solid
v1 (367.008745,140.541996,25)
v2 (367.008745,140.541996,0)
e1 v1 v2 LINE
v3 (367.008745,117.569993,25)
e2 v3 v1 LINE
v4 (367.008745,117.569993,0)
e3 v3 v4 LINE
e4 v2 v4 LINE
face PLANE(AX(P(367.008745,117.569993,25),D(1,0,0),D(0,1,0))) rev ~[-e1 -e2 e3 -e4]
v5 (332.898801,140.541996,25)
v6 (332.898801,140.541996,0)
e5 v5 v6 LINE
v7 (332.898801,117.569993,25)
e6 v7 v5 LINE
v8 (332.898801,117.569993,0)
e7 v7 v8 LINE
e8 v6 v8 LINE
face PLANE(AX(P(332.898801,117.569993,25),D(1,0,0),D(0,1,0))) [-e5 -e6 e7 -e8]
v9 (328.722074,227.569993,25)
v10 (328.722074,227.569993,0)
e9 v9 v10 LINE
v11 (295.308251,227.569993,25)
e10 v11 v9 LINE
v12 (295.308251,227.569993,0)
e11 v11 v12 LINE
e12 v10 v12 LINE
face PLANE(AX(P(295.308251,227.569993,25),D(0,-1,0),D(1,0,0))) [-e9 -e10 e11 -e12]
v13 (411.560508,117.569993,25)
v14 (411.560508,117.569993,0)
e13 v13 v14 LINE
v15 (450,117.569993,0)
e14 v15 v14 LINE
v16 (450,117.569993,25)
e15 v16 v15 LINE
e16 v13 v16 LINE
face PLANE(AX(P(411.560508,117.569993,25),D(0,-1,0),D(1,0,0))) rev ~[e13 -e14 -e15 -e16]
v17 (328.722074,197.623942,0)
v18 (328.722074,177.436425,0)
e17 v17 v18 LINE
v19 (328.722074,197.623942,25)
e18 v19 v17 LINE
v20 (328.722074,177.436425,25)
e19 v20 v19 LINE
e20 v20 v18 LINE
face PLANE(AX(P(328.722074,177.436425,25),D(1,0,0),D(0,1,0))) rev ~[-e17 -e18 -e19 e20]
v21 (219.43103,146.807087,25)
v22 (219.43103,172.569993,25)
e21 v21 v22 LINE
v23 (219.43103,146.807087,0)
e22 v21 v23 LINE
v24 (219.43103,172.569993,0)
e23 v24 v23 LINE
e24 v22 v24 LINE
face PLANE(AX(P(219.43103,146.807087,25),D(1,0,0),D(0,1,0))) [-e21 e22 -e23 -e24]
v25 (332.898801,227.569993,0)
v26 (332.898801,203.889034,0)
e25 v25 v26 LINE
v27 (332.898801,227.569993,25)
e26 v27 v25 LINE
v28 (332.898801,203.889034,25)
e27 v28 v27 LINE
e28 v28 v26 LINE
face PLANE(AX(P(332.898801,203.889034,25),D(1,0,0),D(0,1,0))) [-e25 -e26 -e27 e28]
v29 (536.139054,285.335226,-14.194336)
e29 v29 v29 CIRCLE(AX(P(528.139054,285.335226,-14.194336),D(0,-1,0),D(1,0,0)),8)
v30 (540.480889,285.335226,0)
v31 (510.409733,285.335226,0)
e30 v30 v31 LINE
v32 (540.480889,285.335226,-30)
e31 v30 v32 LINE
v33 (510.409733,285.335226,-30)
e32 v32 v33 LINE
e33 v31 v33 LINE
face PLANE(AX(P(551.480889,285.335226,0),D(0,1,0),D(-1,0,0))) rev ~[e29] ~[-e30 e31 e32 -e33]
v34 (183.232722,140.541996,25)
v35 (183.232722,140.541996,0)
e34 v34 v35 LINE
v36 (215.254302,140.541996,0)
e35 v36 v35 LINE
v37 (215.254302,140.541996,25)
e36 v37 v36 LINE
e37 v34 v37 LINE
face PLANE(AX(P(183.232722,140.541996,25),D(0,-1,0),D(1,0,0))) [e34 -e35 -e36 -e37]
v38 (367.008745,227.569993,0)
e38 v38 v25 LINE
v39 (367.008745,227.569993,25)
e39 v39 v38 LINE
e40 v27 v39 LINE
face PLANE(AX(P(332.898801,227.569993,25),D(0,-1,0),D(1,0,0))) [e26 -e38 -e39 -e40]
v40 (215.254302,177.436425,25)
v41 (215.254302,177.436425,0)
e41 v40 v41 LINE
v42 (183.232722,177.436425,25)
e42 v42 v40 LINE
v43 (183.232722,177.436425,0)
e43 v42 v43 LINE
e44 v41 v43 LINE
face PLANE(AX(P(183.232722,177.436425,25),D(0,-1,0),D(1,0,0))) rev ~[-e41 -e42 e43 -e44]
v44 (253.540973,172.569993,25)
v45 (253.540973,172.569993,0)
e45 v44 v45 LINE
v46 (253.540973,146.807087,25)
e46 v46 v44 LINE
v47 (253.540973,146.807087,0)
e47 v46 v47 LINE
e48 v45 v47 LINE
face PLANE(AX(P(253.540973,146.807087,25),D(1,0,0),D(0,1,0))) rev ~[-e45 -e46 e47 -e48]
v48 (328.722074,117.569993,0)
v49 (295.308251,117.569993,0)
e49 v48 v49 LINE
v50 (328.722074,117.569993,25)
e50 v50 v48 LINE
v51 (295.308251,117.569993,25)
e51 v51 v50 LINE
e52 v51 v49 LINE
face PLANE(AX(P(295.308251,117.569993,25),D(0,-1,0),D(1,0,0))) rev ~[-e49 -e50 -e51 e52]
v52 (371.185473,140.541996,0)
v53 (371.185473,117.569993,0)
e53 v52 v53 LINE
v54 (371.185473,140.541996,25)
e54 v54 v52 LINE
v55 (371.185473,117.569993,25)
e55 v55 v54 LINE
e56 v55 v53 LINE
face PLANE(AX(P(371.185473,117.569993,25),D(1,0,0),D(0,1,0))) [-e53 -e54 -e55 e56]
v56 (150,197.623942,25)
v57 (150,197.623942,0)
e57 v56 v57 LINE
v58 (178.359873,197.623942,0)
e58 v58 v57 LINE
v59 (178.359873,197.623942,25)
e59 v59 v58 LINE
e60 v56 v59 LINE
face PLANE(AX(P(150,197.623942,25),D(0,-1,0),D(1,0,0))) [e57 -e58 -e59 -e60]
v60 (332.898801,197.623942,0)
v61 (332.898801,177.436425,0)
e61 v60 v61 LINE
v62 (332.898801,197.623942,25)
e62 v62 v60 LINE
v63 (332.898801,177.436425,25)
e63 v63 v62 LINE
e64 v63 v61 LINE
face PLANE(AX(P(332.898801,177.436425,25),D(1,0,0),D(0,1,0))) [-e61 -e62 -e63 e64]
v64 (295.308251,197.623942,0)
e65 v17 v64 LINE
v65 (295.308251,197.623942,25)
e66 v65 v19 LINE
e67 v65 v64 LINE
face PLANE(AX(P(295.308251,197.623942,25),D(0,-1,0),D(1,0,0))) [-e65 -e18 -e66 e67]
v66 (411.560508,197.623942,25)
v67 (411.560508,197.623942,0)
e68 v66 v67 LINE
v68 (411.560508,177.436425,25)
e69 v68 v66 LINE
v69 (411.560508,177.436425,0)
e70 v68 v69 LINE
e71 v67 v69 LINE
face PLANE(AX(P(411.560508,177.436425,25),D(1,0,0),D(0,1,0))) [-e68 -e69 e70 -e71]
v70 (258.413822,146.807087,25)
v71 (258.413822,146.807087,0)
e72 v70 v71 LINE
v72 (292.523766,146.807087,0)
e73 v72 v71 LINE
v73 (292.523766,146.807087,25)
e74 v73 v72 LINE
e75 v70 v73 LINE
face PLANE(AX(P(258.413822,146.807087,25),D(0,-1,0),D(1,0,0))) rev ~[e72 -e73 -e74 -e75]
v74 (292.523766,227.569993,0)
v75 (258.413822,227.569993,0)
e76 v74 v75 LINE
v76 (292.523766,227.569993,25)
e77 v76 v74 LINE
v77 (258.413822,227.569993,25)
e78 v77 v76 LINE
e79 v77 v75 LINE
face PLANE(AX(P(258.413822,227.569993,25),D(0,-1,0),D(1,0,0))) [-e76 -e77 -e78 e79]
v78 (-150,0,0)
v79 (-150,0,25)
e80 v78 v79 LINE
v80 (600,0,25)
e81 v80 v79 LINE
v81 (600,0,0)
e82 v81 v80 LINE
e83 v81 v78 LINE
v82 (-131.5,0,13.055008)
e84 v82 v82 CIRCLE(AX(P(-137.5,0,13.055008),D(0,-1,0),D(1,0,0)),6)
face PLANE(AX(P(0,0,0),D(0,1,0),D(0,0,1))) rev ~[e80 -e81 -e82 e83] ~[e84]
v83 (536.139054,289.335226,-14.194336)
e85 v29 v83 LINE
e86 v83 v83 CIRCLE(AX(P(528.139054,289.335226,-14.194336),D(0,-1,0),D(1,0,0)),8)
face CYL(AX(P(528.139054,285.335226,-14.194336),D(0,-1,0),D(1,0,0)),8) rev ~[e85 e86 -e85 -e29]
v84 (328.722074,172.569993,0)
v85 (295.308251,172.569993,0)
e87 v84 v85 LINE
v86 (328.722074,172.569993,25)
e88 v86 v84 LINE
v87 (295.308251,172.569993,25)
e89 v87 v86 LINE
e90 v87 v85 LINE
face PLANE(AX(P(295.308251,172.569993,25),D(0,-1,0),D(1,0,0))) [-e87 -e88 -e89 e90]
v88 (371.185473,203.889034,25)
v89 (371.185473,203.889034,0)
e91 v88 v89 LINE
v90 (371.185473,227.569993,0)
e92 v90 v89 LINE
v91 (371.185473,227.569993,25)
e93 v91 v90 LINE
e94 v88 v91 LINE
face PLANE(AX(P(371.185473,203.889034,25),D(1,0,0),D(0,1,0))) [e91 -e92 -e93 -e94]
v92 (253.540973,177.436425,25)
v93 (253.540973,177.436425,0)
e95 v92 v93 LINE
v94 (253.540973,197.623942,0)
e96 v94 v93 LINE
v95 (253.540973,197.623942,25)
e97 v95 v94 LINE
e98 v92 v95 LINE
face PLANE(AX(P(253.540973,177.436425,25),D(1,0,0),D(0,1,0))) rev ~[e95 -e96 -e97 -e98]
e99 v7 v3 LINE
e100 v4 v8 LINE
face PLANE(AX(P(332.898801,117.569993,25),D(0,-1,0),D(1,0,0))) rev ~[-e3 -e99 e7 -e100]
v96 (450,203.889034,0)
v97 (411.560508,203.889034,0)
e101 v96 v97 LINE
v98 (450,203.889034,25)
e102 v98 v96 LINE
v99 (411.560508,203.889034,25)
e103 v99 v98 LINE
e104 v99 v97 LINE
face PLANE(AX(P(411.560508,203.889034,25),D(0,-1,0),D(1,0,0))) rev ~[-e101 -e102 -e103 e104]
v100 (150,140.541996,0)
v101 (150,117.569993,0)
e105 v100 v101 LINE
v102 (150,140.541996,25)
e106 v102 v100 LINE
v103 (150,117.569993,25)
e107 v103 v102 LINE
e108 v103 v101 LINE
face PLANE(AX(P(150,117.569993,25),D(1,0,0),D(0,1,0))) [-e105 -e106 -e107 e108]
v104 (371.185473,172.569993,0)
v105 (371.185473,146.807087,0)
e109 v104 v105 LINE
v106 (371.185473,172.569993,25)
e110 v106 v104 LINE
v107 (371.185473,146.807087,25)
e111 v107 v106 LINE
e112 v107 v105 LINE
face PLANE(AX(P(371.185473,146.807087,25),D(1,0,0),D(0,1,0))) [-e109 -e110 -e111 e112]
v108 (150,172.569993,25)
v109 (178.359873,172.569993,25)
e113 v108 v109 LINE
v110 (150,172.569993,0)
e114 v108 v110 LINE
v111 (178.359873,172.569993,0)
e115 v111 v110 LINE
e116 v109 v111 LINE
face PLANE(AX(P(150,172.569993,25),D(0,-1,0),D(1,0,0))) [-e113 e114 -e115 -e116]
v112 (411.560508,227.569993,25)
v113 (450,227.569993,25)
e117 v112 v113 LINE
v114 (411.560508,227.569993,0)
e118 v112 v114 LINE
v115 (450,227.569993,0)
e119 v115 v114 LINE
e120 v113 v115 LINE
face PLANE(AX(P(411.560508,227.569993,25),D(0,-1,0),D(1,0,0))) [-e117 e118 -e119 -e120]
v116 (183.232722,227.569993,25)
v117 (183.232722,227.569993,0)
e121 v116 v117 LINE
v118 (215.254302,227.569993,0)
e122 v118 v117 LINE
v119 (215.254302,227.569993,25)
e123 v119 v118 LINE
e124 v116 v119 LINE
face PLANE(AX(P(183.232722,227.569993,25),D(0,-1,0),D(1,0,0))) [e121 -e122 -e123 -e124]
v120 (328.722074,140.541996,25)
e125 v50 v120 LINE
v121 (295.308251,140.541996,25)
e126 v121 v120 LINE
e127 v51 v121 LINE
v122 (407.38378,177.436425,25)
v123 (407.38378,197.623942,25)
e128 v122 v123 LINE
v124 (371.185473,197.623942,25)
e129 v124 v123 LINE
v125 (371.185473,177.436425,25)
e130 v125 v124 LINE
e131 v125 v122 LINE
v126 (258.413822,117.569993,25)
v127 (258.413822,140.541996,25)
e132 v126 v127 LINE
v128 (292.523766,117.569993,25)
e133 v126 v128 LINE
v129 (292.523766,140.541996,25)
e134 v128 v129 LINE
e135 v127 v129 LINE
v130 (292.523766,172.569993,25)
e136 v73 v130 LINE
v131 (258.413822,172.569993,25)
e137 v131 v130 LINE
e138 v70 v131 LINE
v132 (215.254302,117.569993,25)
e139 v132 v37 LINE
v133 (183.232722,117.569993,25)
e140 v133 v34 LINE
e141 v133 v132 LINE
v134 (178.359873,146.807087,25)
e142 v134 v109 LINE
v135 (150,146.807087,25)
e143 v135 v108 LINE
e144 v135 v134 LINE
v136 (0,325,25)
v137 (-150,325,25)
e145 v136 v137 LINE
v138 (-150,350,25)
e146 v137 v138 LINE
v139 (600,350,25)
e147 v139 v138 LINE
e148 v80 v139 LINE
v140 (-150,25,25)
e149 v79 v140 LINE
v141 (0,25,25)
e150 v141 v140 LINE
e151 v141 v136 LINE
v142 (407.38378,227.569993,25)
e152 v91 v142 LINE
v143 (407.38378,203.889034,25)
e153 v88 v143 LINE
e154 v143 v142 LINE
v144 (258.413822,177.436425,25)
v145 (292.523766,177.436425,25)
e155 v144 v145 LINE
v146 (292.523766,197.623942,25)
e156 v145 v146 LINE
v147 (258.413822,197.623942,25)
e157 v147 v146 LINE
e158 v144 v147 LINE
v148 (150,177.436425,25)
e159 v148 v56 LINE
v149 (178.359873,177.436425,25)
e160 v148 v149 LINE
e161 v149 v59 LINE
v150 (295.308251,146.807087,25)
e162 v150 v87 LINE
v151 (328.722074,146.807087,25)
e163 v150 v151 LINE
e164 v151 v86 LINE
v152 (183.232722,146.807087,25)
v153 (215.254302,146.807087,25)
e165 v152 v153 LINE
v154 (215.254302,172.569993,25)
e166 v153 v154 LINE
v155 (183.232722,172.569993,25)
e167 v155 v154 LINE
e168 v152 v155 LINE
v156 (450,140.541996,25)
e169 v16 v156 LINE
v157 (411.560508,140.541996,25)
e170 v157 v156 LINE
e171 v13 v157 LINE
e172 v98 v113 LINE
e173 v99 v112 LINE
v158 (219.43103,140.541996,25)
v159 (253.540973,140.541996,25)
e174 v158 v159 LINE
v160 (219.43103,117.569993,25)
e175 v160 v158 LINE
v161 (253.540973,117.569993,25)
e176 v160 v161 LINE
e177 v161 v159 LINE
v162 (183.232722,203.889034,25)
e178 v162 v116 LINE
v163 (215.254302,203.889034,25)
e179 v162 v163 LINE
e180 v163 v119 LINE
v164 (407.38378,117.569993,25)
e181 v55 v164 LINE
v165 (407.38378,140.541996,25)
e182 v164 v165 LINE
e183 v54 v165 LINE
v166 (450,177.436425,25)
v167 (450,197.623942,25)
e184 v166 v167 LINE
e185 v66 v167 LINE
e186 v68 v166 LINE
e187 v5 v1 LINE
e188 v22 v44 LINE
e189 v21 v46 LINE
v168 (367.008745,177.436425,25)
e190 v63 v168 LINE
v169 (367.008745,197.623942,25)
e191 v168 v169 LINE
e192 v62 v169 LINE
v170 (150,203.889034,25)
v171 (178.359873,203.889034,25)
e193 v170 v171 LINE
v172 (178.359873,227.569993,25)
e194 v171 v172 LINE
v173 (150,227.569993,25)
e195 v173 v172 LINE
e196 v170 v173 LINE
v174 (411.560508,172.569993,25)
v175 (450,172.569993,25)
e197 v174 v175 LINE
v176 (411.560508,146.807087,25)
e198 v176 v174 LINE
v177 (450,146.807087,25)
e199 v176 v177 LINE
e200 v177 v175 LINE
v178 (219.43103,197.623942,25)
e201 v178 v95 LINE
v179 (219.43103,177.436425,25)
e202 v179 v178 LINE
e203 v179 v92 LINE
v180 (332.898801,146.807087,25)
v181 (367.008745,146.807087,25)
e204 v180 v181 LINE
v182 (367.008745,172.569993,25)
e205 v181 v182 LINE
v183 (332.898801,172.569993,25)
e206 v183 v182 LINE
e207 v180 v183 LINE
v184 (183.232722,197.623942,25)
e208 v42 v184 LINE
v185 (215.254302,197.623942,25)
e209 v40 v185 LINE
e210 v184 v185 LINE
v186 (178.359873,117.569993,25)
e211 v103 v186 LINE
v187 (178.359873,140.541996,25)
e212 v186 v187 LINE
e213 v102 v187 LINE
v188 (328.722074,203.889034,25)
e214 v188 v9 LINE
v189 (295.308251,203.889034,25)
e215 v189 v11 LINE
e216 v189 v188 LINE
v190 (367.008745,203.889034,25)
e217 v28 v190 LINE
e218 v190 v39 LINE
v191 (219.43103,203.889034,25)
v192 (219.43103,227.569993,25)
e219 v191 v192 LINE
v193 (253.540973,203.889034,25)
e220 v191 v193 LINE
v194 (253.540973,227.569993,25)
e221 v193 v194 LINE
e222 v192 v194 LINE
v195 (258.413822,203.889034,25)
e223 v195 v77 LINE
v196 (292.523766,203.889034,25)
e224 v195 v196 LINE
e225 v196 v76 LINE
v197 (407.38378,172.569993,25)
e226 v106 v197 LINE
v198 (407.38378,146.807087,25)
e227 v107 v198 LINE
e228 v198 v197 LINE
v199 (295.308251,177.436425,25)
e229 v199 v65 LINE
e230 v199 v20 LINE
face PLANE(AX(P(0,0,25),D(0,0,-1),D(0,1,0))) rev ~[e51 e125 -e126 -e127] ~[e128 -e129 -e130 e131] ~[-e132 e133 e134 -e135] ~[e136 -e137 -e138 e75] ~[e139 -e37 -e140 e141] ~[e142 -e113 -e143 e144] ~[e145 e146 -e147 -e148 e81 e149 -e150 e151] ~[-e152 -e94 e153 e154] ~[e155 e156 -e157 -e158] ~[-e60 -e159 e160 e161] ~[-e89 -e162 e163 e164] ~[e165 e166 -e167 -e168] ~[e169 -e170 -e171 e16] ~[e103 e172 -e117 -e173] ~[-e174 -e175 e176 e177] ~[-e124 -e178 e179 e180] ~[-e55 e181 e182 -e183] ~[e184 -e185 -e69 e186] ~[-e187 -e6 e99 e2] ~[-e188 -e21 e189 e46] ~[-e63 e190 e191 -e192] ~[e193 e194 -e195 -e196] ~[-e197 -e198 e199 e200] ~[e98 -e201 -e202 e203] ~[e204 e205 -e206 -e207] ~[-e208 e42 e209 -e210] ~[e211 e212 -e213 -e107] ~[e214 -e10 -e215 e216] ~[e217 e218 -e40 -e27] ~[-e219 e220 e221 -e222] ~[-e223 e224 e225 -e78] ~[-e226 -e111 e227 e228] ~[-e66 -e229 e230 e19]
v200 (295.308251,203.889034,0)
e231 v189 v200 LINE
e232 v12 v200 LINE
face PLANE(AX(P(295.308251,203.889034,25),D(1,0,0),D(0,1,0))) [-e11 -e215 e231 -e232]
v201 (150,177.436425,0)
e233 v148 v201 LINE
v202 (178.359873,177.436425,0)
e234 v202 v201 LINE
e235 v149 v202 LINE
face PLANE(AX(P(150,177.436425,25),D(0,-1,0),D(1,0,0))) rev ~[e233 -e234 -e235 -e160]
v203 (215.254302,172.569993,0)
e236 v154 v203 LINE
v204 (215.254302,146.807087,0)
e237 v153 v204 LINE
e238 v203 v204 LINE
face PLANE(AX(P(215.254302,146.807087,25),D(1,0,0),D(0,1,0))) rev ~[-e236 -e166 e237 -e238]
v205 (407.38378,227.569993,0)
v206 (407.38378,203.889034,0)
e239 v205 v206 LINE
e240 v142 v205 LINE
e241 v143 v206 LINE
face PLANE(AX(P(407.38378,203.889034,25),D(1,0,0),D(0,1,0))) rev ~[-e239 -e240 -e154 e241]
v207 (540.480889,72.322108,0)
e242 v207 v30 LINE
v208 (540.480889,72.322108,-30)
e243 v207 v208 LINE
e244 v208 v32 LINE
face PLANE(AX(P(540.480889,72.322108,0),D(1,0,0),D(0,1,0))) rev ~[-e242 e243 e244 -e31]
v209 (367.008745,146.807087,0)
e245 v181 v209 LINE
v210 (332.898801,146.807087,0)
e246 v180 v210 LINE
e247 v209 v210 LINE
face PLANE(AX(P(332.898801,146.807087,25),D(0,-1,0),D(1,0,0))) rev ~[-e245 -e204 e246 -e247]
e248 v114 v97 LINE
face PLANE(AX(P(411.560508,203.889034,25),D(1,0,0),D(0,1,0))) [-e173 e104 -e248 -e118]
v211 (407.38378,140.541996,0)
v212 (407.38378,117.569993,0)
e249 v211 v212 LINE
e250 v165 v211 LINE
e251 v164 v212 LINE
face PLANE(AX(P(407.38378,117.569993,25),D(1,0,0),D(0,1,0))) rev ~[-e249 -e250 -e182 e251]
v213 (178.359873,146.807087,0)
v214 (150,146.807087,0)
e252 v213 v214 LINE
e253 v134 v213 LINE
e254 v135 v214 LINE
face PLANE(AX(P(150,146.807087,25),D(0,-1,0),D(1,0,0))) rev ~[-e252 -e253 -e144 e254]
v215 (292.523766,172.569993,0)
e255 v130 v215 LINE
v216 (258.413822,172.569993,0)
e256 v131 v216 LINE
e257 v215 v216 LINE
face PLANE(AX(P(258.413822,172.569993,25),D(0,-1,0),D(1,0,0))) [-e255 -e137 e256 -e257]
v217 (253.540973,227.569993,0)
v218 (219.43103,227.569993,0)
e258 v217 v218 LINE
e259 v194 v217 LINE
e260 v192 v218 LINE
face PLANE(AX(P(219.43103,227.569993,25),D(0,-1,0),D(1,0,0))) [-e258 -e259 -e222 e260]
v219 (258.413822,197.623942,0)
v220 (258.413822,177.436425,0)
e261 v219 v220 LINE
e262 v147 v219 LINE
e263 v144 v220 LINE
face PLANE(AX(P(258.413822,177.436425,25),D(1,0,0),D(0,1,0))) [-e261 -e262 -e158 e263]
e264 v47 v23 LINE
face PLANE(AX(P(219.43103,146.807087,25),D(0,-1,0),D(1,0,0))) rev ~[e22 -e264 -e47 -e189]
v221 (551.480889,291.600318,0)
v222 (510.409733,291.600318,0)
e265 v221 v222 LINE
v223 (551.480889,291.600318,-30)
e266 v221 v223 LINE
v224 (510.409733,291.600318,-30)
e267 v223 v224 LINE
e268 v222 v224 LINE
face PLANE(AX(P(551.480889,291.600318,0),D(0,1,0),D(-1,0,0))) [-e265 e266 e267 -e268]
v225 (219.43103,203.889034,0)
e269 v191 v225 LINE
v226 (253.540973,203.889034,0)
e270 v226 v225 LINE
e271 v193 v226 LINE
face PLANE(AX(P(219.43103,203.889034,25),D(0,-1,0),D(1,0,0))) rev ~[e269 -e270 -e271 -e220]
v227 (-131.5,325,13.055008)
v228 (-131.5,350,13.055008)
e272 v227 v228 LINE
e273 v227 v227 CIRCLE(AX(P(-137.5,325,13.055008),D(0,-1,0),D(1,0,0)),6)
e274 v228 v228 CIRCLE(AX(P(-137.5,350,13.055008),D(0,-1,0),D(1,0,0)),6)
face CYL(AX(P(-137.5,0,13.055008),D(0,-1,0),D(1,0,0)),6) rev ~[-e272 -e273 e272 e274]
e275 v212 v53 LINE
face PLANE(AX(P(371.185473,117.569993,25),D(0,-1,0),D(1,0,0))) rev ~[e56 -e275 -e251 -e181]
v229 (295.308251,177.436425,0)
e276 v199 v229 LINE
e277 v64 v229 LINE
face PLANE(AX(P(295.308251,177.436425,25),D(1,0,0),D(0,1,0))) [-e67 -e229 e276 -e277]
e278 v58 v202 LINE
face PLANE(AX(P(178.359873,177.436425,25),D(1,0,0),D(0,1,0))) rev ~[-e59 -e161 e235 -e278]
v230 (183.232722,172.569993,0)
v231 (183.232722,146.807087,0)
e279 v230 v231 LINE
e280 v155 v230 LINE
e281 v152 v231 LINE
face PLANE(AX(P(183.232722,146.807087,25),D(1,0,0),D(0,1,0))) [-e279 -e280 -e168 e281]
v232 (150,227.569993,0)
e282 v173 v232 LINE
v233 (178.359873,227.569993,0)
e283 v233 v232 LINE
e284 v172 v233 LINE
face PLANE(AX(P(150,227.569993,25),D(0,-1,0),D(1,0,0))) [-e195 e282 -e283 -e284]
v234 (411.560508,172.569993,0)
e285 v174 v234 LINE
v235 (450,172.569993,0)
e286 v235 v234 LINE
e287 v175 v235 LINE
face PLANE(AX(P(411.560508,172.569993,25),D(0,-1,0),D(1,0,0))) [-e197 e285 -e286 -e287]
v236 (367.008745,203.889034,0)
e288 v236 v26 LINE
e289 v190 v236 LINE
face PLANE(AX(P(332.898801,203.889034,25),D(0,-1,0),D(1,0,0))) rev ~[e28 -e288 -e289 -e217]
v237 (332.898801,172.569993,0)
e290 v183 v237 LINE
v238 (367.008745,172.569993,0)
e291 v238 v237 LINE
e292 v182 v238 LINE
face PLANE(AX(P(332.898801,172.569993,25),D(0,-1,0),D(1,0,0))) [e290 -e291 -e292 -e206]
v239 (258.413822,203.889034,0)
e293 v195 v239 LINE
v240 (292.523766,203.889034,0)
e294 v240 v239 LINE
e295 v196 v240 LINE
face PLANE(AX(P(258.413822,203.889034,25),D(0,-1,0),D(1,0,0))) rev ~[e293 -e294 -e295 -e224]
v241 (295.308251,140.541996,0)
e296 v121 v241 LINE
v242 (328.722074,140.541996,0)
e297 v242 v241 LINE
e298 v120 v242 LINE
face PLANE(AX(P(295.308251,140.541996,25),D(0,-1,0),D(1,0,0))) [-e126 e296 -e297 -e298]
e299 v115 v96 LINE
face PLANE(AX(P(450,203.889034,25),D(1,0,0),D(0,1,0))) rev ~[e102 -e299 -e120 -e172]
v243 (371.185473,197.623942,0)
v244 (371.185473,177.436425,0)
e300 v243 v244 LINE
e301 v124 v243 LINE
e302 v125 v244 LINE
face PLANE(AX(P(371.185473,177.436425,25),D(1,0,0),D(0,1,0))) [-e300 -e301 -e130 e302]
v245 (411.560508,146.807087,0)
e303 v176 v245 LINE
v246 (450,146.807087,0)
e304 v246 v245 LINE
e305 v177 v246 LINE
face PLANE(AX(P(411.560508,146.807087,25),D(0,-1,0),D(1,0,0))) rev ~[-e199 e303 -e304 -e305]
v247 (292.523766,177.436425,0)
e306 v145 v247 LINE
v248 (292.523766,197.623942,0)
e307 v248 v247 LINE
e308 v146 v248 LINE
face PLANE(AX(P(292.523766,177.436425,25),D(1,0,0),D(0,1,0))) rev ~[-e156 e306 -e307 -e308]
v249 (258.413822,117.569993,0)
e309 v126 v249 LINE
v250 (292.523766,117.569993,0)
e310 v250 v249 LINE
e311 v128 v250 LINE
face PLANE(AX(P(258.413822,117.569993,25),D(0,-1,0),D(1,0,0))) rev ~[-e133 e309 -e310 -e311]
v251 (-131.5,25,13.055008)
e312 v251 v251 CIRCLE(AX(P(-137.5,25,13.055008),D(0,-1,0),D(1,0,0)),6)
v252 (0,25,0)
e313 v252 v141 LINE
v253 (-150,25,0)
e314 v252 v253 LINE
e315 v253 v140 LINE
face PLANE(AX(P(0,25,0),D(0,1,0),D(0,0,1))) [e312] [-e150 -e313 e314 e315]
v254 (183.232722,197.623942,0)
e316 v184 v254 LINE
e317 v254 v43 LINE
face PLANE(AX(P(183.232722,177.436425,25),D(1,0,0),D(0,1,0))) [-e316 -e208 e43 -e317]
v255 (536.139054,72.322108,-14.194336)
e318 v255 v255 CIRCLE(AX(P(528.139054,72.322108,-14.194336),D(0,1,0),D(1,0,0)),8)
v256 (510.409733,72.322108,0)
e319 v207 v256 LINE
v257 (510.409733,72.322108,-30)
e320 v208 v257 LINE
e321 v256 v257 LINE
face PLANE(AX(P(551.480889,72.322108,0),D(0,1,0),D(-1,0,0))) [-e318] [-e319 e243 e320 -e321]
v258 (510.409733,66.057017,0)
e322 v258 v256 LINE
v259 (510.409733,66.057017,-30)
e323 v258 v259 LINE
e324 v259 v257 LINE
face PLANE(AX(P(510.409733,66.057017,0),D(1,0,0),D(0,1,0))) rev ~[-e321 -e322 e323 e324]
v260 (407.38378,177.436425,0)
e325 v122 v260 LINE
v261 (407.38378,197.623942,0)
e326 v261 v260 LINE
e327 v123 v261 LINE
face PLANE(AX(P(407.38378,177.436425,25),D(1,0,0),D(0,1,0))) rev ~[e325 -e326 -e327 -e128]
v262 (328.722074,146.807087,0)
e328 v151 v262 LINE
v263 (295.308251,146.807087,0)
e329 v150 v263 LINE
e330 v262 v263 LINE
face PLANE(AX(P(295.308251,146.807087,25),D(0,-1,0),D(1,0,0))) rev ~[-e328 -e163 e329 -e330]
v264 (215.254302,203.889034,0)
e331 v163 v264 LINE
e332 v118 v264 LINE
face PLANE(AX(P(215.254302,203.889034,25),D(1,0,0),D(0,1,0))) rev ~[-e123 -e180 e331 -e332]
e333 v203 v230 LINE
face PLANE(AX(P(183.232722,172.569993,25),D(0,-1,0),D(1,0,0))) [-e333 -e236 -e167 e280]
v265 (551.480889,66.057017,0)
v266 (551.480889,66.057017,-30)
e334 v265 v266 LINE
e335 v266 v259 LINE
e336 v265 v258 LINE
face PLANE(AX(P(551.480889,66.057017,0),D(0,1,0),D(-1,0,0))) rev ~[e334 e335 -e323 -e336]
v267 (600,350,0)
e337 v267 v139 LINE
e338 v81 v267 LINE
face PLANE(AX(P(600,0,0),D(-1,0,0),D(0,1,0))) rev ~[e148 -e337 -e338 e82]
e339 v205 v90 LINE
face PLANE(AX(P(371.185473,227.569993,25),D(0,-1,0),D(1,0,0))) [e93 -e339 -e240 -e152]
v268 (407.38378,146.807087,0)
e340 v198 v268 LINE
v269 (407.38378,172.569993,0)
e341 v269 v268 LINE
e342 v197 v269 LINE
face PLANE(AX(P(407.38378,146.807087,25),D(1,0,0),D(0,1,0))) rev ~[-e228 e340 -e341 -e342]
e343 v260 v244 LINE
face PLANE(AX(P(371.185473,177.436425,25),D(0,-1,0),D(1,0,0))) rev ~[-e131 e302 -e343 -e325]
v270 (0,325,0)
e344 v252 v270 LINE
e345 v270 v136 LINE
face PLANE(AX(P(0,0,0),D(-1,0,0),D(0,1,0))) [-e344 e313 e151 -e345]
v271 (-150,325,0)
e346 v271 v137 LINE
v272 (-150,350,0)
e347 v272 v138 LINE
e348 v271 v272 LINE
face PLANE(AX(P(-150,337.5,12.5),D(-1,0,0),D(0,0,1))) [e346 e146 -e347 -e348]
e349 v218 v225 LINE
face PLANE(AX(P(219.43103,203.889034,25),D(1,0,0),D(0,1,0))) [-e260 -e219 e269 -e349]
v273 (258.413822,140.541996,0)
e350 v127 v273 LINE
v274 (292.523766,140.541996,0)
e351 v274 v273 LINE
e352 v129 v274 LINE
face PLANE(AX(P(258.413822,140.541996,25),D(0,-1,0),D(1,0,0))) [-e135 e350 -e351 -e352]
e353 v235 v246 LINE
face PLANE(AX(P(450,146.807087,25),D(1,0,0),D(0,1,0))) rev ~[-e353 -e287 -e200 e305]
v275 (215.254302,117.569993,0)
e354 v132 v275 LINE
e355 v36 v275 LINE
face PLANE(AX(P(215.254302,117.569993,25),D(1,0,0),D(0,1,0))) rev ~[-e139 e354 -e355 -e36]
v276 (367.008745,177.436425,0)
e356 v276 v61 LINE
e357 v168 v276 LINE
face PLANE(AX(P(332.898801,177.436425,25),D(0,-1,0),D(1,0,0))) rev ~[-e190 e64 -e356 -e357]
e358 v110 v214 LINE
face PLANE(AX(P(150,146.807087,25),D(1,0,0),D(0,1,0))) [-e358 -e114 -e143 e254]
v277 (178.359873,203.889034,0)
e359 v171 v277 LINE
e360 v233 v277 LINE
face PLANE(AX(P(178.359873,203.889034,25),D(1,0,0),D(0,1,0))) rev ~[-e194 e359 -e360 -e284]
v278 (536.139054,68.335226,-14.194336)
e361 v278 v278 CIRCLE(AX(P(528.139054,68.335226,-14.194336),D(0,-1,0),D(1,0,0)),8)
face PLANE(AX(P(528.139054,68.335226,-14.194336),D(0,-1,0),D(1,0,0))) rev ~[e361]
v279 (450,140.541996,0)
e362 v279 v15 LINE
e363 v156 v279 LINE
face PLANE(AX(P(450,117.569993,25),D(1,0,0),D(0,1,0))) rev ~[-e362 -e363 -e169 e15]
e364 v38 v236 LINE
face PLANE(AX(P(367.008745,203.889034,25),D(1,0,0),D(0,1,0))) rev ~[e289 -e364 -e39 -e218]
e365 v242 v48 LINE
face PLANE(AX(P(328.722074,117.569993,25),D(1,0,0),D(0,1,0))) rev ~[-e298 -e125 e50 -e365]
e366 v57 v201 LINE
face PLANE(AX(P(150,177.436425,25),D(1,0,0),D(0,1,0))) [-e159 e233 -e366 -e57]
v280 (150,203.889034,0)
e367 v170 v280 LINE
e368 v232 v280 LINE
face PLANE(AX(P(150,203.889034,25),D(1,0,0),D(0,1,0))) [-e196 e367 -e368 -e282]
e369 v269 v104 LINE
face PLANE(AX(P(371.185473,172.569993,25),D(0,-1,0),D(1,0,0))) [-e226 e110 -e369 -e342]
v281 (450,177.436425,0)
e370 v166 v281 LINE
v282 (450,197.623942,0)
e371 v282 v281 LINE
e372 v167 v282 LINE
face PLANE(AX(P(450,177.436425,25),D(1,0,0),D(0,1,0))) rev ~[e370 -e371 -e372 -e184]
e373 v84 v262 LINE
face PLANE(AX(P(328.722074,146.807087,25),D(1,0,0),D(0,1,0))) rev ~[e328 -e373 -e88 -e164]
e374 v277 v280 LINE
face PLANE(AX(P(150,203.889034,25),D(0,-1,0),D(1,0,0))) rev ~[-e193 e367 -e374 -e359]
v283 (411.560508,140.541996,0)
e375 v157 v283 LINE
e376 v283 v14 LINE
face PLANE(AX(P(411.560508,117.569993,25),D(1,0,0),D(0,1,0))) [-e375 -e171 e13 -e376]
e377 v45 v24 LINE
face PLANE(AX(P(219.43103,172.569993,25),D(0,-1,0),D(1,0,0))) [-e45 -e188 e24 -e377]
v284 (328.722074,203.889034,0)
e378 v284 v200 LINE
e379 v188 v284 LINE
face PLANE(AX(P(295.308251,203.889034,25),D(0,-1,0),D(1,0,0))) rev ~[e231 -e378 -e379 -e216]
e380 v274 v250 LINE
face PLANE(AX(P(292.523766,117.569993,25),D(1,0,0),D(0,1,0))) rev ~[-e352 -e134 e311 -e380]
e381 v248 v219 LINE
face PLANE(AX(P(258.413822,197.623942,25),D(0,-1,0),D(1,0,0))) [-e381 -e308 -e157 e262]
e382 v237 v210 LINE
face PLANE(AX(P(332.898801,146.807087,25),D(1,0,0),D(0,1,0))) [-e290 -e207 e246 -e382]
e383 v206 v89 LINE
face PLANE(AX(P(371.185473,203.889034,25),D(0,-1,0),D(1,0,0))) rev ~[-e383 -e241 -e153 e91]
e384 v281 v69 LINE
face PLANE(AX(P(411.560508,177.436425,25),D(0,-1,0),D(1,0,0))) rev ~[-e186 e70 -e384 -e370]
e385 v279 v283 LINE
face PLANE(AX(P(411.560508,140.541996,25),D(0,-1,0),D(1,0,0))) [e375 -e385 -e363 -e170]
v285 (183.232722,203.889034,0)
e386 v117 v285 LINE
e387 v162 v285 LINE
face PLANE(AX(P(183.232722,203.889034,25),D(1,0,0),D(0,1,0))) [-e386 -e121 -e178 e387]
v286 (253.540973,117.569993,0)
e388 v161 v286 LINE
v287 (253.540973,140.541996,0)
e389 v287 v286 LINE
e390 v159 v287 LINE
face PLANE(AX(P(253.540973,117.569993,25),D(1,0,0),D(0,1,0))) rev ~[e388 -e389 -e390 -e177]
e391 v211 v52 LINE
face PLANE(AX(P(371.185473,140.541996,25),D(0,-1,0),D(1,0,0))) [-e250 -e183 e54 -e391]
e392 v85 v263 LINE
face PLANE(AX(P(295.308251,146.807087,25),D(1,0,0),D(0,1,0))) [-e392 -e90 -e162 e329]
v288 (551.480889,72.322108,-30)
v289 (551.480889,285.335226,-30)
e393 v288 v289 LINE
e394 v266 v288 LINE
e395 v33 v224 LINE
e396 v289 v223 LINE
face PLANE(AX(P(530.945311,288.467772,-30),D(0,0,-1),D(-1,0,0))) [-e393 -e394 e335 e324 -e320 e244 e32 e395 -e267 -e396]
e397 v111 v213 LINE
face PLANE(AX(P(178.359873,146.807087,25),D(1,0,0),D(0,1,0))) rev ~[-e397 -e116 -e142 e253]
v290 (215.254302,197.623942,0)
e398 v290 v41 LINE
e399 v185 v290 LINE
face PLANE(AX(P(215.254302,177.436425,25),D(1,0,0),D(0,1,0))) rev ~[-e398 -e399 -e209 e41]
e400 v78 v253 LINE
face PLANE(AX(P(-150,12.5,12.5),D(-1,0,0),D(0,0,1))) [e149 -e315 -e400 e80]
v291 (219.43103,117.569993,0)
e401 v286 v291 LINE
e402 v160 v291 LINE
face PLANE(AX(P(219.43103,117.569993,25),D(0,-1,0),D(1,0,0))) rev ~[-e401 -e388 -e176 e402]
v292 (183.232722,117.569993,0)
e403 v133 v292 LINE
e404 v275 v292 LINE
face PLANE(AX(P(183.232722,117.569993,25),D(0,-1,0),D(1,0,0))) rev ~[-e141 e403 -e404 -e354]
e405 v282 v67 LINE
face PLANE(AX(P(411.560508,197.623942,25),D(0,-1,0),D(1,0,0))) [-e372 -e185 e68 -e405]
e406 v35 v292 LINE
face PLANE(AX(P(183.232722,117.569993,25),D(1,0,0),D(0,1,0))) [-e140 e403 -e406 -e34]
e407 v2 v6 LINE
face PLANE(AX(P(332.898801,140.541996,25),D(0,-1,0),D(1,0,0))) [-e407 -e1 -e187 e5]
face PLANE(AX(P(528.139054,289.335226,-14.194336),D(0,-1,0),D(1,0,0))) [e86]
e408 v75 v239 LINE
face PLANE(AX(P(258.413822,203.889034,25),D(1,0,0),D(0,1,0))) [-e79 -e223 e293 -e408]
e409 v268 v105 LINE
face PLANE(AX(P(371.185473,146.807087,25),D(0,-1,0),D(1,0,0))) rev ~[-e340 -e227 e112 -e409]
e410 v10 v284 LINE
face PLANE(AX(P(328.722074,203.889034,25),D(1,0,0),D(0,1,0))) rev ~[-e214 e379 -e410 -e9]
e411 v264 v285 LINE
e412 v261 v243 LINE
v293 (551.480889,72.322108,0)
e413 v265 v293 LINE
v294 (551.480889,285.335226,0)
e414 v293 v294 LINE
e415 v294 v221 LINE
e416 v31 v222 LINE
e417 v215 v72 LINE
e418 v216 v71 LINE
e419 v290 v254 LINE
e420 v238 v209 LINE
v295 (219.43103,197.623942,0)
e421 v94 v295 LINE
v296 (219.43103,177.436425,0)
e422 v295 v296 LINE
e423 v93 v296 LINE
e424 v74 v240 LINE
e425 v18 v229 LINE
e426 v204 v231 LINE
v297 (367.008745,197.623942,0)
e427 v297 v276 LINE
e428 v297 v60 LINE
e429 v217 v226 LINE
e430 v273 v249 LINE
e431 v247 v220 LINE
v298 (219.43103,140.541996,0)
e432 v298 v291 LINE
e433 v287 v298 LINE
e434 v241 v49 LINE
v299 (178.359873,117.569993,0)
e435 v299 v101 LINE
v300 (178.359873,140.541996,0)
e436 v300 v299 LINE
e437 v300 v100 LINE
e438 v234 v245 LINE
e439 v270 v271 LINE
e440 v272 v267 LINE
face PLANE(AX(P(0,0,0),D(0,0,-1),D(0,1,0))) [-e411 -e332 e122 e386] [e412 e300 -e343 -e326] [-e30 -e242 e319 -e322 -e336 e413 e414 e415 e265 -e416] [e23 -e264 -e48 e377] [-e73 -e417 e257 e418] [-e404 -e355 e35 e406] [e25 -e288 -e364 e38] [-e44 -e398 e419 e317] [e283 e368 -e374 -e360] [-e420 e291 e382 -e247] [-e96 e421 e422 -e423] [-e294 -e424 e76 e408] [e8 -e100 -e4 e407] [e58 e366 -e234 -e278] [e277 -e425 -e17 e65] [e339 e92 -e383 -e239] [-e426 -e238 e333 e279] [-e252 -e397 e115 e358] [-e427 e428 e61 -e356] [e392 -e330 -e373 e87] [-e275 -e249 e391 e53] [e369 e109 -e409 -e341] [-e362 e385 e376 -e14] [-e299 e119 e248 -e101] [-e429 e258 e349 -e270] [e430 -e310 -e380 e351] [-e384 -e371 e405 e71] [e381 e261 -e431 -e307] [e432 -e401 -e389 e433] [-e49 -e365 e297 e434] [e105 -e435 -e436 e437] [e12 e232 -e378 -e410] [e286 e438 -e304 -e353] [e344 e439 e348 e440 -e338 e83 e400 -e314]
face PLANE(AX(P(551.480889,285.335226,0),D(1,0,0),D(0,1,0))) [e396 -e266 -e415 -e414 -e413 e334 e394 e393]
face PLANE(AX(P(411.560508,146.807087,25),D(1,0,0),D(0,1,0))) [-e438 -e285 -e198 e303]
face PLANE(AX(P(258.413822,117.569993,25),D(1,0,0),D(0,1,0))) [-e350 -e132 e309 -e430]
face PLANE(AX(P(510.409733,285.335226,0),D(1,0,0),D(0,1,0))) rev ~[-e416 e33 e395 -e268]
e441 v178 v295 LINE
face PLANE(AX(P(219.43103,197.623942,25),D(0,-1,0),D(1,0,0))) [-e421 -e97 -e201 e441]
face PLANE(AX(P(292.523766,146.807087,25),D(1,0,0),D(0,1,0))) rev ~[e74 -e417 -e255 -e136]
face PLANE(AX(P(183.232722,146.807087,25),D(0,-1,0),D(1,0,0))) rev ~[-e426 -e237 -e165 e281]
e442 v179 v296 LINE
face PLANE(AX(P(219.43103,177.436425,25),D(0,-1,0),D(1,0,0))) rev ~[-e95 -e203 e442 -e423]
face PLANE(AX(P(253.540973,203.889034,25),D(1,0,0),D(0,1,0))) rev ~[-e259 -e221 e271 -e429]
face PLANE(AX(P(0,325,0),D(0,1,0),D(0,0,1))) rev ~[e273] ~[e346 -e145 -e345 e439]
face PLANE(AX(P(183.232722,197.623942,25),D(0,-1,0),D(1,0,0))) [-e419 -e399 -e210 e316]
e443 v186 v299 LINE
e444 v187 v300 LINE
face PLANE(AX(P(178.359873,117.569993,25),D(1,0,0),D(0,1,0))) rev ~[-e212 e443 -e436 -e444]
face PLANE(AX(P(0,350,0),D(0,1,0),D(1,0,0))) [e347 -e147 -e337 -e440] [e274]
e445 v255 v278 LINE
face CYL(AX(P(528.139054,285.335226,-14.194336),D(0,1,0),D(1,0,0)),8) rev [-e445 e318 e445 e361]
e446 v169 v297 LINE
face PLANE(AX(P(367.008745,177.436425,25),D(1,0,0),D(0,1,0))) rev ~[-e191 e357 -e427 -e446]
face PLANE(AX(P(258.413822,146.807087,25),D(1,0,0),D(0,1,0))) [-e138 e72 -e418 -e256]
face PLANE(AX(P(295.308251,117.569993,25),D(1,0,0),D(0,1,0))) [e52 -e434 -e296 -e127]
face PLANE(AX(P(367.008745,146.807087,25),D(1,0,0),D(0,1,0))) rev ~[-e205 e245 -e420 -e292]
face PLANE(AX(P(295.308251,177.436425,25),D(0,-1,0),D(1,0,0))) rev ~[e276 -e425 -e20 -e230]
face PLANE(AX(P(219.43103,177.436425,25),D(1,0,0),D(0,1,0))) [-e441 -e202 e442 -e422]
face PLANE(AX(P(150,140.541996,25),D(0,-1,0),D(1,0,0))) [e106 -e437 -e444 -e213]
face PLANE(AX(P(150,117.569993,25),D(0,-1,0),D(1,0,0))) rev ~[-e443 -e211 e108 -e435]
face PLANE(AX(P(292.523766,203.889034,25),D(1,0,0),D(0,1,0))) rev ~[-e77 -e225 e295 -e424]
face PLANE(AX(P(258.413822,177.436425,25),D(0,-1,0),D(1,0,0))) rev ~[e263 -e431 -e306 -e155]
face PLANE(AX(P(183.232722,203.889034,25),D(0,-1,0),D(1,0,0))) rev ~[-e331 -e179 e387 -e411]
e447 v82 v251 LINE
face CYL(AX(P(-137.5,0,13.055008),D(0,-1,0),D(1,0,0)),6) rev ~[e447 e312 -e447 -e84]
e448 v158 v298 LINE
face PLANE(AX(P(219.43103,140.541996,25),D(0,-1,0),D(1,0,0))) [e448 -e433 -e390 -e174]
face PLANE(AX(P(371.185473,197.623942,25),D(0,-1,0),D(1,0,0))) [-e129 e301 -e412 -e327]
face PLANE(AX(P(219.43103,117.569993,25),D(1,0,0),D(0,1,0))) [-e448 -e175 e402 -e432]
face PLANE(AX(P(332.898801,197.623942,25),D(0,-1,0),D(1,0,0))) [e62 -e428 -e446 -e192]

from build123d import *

# Parameters (mm, degrees)
SKETCH1_W               = 600
SKETCH1_H               = 350
BOSS_EXTRUDE1_DEPTH     = 25
SKETCH3_W               = 25
SKETCH3_H               = 25
BOSS_EXTRUDE2_DEPTH     = 150
SKETCH4_R               = 6
CUT_EXTRUDE1_DEPTH      = 370
SKETCH5_W               = 28.359872958
SKETCH5_H               = 23.680958907
SKETCH5_W_2             = 32.02157976
SKETCH5_W_3             = 34.109943658
SKETCH5_W_4             = 34.109943657
SKETCH5_W_5             = 33.413822358
SKETCH5_W_6             = 36.198307555
SKETCH5_W_7             = 38.439491831
SKETCH5_H_2             = 20.187517675
SKETCH5_H_3             = 25.762905436
SKETCH5_H_4             = 22.972002872
CUT_EXTRUDE3_DEPTH      = 30
SKETCH7_W               = 11
SKETCH7_H               = 213.013117536
BOSS_EXTRUDE4_DEPTH     = 30
SKETCH8_W               = 41.071156649
SKETCH8_H               = 6.265091692
BOSS_EXTRUDE5_DEPTH     = 30
SKETCH11_R              = 8
CUT_EXTRUDE6_DEPTH      = 217
CUT_EXTRUDE6_DEPTH_BACK = 4


with BuildPart() as part:
    # Sketch1 → Boss-Extrude1 (new body)
    with BuildSketch(Plane.XY):
        with Locations((300, 175)):
            Rectangle(SKETCH1_W, SKETCH1_H)
    extrude(amount=BOSS_EXTRUDE1_DEPTH)

    # Sketch3 → Boss-Extrude2 (add)
    with BuildSketch(Plane.ZY):
        with Locations((12.5, 12.5)):
            Rectangle(SKETCH3_W, SKETCH3_H)
        with Locations((12.5, 337.5)):
            Rectangle(SKETCH3_W, SKETCH3_H)
    extrude(amount=BOSS_EXTRUDE2_DEPTH)

    # Sketch4 → Cut-Extrude1 (cut)
    with BuildSketch(Plane.XZ):
        with Locations((-137.5, 13.055008402)):
            Circle(SKETCH4_R)
    extrude(amount=-CUT_EXTRUDE1_DEPTH, mode=Mode.SUBTRACT)

    # Sketch5 → Cut-Extrude3 (cut)
    with BuildSketch(Plane.XY.offset(25)):
        with Locations((164.179936479, 215.729513368)):
            Rectangle(SKETCH5_W, SKETCH5_H)
        with Locations((199.243511932, 215.729513368)):
            Rectangle(SKETCH5_W_2, SKETCH5_H)
        with Locations((236.486001436, 215.729513368)):
            Rectangle(SKETCH5_W_3, SKETCH5_H)
        with Locations((275.468794188, 215.729513368)):
            Rectangle(SKETCH5_W_4, SKETCH5_H)
        with Locations((312.015162392, 215.729513368)):
            Rectangle(SKETCH5_W_5, SKETCH5_H)
        with Locations((349.953773195, 215.729513368)):
            Rectangle(SKETCH5_W_3, SKETCH5_H)
        with Locations((389.284626597, 215.729513368)):
            Rectangle(SKETCH5_W_6, SKETCH5_H)
        with Locations((430.780254085, 215.729513368)):
            Rectangle(SKETCH5_W_7, SKETCH5_H)
        with Locations((164.179936479, 187.530183384)):
            Rectangle(SKETCH5_W, SKETCH5_H_2)
        with Locations((199.243511932, 187.530183384)):
            Rectangle(SKETCH5_W_2, SKETCH5_H_2)
        with Locations((236.486001436, 187.530183384)):
            Rectangle(SKETCH5_W_3, SKETCH5_H_2)
        with Locations((275.468794188, 187.530183384)):
            Rectangle(SKETCH5_W_4, SKETCH5_H_2)
        with Locations((312.015162392, 187.530183384)):
            Rectangle(SKETCH5_W_5, SKETCH5_H_2)
        with Locations((349.953773195, 187.530183384)):
            Rectangle(SKETCH5_W_3, SKETCH5_H_2)
        with Locations((389.284626597, 187.530183384)):
            Rectangle(SKETCH5_W_6, SKETCH5_H_2)
        with Locations((430.780254085, 187.530183384)):
            Rectangle(SKETCH5_W_7, SKETCH5_H_2)
        with Locations((430.780254085, 159.688540103)):
            Rectangle(SKETCH5_W_7, SKETCH5_H_3)
        with Locations((389.284626597, 159.688540103)):
            Rectangle(SKETCH5_W_6, SKETCH5_H_3)
        with Locations((349.953773195, 159.688540103)):
            Rectangle(SKETCH5_W_3, SKETCH5_H_3)
        with Locations((312.015162392, 159.688540103)):
            Rectangle(SKETCH5_W_5, SKETCH5_H_3)
        with Locations((275.468794188, 159.688540103)):
            Rectangle(SKETCH5_W_4, SKETCH5_H_3)
        with Locations((236.486001436, 159.688540103)):
            Rectangle(SKETCH5_W_3, SKETCH5_H_3)
        with Locations((199.243511932, 159.688540103)):
            Rectangle(SKETCH5_W_2, SKETCH5_H_3)
        with Locations((164.179936479, 159.688540103)):
            Rectangle(SKETCH5_W, SKETCH5_H_3)
        with Locations((164.179936479, 129.055994257)):
            Rectangle(SKETCH5_W, SKETCH5_H_4)
        with Locations((199.243511932, 129.055994257)):
            Rectangle(SKETCH5_W_2, SKETCH5_H_4)
        with Locations((236.486001436, 129.055994257)):
            Rectangle(SKETCH5_W_3, SKETCH5_H_4)
        with Locations((275.468794188, 129.055994257)):
            Rectangle(SKETCH5_W_4, SKETCH5_H_4)
        with Locations((312.015162392, 129.055994257)):
            Rectangle(SKETCH5_W_5, SKETCH5_H_4)
        with Locations((349.953773195, 129.055994257)):
            Rectangle(SKETCH5_W_3, SKETCH5_H_4)
        with Locations((389.284626597, 129.055994257)):
            Rectangle(SKETCH5_W_6, SKETCH5_H_4)
        with Locations((430.780254085, 129.055994257)):
            Rectangle(SKETCH5_W_7, SKETCH5_H_4)
    extrude(amount=-CUT_EXTRUDE3_DEPTH, mode=Mode.SUBTRACT)

    # Sketch7 → Boss-Extrude4 (add)
    with BuildSketch(Plane(origin=(0, 0, 0), x_dir=(-1, 0, 0), z_dir=(0, 0, -1))):
        with Locations((-545.980889295, 178.828667145)):
            Rectangle(SKETCH7_W, SKETCH7_H)
    extrude(amount=BOSS_EXTRUDE4_DEPTH)

    # Sketch8 → Boss-Extrude5 (add)
    with BuildSketch(Plane(origin=(0, 0, 0), x_dir=(-1, 0, 0), z_dir=(0, 0, -1))):
        with Locations((-530.945310971, 288.467771759)):
            Rectangle(SKETCH8_W, SKETCH8_H)
        with Locations((-530.945310971, 69.189562531)):
            Rectangle(SKETCH8_W, SKETCH8_H)
    extrude(amount=BOSS_EXTRUDE5_DEPTH)

    # Sketch11 → Cut-Extrude6 (cut, two sides)
    with BuildSketch(Plane.XZ.offset(-285.335225913)) as cut_extrude6_sk:
        with Locations((528.139054201, -14.194336347)):
            Circle(SKETCH11_R)
    extrude(amount=CUT_EXTRUDE6_DEPTH, mode=Mode.SUBTRACT)
    extrude(cut_extrude6_sk.sketch, amount=-CUT_EXTRUDE6_DEPTH_BACK, mode=Mode.SUBTRACT)


solid = part.part
